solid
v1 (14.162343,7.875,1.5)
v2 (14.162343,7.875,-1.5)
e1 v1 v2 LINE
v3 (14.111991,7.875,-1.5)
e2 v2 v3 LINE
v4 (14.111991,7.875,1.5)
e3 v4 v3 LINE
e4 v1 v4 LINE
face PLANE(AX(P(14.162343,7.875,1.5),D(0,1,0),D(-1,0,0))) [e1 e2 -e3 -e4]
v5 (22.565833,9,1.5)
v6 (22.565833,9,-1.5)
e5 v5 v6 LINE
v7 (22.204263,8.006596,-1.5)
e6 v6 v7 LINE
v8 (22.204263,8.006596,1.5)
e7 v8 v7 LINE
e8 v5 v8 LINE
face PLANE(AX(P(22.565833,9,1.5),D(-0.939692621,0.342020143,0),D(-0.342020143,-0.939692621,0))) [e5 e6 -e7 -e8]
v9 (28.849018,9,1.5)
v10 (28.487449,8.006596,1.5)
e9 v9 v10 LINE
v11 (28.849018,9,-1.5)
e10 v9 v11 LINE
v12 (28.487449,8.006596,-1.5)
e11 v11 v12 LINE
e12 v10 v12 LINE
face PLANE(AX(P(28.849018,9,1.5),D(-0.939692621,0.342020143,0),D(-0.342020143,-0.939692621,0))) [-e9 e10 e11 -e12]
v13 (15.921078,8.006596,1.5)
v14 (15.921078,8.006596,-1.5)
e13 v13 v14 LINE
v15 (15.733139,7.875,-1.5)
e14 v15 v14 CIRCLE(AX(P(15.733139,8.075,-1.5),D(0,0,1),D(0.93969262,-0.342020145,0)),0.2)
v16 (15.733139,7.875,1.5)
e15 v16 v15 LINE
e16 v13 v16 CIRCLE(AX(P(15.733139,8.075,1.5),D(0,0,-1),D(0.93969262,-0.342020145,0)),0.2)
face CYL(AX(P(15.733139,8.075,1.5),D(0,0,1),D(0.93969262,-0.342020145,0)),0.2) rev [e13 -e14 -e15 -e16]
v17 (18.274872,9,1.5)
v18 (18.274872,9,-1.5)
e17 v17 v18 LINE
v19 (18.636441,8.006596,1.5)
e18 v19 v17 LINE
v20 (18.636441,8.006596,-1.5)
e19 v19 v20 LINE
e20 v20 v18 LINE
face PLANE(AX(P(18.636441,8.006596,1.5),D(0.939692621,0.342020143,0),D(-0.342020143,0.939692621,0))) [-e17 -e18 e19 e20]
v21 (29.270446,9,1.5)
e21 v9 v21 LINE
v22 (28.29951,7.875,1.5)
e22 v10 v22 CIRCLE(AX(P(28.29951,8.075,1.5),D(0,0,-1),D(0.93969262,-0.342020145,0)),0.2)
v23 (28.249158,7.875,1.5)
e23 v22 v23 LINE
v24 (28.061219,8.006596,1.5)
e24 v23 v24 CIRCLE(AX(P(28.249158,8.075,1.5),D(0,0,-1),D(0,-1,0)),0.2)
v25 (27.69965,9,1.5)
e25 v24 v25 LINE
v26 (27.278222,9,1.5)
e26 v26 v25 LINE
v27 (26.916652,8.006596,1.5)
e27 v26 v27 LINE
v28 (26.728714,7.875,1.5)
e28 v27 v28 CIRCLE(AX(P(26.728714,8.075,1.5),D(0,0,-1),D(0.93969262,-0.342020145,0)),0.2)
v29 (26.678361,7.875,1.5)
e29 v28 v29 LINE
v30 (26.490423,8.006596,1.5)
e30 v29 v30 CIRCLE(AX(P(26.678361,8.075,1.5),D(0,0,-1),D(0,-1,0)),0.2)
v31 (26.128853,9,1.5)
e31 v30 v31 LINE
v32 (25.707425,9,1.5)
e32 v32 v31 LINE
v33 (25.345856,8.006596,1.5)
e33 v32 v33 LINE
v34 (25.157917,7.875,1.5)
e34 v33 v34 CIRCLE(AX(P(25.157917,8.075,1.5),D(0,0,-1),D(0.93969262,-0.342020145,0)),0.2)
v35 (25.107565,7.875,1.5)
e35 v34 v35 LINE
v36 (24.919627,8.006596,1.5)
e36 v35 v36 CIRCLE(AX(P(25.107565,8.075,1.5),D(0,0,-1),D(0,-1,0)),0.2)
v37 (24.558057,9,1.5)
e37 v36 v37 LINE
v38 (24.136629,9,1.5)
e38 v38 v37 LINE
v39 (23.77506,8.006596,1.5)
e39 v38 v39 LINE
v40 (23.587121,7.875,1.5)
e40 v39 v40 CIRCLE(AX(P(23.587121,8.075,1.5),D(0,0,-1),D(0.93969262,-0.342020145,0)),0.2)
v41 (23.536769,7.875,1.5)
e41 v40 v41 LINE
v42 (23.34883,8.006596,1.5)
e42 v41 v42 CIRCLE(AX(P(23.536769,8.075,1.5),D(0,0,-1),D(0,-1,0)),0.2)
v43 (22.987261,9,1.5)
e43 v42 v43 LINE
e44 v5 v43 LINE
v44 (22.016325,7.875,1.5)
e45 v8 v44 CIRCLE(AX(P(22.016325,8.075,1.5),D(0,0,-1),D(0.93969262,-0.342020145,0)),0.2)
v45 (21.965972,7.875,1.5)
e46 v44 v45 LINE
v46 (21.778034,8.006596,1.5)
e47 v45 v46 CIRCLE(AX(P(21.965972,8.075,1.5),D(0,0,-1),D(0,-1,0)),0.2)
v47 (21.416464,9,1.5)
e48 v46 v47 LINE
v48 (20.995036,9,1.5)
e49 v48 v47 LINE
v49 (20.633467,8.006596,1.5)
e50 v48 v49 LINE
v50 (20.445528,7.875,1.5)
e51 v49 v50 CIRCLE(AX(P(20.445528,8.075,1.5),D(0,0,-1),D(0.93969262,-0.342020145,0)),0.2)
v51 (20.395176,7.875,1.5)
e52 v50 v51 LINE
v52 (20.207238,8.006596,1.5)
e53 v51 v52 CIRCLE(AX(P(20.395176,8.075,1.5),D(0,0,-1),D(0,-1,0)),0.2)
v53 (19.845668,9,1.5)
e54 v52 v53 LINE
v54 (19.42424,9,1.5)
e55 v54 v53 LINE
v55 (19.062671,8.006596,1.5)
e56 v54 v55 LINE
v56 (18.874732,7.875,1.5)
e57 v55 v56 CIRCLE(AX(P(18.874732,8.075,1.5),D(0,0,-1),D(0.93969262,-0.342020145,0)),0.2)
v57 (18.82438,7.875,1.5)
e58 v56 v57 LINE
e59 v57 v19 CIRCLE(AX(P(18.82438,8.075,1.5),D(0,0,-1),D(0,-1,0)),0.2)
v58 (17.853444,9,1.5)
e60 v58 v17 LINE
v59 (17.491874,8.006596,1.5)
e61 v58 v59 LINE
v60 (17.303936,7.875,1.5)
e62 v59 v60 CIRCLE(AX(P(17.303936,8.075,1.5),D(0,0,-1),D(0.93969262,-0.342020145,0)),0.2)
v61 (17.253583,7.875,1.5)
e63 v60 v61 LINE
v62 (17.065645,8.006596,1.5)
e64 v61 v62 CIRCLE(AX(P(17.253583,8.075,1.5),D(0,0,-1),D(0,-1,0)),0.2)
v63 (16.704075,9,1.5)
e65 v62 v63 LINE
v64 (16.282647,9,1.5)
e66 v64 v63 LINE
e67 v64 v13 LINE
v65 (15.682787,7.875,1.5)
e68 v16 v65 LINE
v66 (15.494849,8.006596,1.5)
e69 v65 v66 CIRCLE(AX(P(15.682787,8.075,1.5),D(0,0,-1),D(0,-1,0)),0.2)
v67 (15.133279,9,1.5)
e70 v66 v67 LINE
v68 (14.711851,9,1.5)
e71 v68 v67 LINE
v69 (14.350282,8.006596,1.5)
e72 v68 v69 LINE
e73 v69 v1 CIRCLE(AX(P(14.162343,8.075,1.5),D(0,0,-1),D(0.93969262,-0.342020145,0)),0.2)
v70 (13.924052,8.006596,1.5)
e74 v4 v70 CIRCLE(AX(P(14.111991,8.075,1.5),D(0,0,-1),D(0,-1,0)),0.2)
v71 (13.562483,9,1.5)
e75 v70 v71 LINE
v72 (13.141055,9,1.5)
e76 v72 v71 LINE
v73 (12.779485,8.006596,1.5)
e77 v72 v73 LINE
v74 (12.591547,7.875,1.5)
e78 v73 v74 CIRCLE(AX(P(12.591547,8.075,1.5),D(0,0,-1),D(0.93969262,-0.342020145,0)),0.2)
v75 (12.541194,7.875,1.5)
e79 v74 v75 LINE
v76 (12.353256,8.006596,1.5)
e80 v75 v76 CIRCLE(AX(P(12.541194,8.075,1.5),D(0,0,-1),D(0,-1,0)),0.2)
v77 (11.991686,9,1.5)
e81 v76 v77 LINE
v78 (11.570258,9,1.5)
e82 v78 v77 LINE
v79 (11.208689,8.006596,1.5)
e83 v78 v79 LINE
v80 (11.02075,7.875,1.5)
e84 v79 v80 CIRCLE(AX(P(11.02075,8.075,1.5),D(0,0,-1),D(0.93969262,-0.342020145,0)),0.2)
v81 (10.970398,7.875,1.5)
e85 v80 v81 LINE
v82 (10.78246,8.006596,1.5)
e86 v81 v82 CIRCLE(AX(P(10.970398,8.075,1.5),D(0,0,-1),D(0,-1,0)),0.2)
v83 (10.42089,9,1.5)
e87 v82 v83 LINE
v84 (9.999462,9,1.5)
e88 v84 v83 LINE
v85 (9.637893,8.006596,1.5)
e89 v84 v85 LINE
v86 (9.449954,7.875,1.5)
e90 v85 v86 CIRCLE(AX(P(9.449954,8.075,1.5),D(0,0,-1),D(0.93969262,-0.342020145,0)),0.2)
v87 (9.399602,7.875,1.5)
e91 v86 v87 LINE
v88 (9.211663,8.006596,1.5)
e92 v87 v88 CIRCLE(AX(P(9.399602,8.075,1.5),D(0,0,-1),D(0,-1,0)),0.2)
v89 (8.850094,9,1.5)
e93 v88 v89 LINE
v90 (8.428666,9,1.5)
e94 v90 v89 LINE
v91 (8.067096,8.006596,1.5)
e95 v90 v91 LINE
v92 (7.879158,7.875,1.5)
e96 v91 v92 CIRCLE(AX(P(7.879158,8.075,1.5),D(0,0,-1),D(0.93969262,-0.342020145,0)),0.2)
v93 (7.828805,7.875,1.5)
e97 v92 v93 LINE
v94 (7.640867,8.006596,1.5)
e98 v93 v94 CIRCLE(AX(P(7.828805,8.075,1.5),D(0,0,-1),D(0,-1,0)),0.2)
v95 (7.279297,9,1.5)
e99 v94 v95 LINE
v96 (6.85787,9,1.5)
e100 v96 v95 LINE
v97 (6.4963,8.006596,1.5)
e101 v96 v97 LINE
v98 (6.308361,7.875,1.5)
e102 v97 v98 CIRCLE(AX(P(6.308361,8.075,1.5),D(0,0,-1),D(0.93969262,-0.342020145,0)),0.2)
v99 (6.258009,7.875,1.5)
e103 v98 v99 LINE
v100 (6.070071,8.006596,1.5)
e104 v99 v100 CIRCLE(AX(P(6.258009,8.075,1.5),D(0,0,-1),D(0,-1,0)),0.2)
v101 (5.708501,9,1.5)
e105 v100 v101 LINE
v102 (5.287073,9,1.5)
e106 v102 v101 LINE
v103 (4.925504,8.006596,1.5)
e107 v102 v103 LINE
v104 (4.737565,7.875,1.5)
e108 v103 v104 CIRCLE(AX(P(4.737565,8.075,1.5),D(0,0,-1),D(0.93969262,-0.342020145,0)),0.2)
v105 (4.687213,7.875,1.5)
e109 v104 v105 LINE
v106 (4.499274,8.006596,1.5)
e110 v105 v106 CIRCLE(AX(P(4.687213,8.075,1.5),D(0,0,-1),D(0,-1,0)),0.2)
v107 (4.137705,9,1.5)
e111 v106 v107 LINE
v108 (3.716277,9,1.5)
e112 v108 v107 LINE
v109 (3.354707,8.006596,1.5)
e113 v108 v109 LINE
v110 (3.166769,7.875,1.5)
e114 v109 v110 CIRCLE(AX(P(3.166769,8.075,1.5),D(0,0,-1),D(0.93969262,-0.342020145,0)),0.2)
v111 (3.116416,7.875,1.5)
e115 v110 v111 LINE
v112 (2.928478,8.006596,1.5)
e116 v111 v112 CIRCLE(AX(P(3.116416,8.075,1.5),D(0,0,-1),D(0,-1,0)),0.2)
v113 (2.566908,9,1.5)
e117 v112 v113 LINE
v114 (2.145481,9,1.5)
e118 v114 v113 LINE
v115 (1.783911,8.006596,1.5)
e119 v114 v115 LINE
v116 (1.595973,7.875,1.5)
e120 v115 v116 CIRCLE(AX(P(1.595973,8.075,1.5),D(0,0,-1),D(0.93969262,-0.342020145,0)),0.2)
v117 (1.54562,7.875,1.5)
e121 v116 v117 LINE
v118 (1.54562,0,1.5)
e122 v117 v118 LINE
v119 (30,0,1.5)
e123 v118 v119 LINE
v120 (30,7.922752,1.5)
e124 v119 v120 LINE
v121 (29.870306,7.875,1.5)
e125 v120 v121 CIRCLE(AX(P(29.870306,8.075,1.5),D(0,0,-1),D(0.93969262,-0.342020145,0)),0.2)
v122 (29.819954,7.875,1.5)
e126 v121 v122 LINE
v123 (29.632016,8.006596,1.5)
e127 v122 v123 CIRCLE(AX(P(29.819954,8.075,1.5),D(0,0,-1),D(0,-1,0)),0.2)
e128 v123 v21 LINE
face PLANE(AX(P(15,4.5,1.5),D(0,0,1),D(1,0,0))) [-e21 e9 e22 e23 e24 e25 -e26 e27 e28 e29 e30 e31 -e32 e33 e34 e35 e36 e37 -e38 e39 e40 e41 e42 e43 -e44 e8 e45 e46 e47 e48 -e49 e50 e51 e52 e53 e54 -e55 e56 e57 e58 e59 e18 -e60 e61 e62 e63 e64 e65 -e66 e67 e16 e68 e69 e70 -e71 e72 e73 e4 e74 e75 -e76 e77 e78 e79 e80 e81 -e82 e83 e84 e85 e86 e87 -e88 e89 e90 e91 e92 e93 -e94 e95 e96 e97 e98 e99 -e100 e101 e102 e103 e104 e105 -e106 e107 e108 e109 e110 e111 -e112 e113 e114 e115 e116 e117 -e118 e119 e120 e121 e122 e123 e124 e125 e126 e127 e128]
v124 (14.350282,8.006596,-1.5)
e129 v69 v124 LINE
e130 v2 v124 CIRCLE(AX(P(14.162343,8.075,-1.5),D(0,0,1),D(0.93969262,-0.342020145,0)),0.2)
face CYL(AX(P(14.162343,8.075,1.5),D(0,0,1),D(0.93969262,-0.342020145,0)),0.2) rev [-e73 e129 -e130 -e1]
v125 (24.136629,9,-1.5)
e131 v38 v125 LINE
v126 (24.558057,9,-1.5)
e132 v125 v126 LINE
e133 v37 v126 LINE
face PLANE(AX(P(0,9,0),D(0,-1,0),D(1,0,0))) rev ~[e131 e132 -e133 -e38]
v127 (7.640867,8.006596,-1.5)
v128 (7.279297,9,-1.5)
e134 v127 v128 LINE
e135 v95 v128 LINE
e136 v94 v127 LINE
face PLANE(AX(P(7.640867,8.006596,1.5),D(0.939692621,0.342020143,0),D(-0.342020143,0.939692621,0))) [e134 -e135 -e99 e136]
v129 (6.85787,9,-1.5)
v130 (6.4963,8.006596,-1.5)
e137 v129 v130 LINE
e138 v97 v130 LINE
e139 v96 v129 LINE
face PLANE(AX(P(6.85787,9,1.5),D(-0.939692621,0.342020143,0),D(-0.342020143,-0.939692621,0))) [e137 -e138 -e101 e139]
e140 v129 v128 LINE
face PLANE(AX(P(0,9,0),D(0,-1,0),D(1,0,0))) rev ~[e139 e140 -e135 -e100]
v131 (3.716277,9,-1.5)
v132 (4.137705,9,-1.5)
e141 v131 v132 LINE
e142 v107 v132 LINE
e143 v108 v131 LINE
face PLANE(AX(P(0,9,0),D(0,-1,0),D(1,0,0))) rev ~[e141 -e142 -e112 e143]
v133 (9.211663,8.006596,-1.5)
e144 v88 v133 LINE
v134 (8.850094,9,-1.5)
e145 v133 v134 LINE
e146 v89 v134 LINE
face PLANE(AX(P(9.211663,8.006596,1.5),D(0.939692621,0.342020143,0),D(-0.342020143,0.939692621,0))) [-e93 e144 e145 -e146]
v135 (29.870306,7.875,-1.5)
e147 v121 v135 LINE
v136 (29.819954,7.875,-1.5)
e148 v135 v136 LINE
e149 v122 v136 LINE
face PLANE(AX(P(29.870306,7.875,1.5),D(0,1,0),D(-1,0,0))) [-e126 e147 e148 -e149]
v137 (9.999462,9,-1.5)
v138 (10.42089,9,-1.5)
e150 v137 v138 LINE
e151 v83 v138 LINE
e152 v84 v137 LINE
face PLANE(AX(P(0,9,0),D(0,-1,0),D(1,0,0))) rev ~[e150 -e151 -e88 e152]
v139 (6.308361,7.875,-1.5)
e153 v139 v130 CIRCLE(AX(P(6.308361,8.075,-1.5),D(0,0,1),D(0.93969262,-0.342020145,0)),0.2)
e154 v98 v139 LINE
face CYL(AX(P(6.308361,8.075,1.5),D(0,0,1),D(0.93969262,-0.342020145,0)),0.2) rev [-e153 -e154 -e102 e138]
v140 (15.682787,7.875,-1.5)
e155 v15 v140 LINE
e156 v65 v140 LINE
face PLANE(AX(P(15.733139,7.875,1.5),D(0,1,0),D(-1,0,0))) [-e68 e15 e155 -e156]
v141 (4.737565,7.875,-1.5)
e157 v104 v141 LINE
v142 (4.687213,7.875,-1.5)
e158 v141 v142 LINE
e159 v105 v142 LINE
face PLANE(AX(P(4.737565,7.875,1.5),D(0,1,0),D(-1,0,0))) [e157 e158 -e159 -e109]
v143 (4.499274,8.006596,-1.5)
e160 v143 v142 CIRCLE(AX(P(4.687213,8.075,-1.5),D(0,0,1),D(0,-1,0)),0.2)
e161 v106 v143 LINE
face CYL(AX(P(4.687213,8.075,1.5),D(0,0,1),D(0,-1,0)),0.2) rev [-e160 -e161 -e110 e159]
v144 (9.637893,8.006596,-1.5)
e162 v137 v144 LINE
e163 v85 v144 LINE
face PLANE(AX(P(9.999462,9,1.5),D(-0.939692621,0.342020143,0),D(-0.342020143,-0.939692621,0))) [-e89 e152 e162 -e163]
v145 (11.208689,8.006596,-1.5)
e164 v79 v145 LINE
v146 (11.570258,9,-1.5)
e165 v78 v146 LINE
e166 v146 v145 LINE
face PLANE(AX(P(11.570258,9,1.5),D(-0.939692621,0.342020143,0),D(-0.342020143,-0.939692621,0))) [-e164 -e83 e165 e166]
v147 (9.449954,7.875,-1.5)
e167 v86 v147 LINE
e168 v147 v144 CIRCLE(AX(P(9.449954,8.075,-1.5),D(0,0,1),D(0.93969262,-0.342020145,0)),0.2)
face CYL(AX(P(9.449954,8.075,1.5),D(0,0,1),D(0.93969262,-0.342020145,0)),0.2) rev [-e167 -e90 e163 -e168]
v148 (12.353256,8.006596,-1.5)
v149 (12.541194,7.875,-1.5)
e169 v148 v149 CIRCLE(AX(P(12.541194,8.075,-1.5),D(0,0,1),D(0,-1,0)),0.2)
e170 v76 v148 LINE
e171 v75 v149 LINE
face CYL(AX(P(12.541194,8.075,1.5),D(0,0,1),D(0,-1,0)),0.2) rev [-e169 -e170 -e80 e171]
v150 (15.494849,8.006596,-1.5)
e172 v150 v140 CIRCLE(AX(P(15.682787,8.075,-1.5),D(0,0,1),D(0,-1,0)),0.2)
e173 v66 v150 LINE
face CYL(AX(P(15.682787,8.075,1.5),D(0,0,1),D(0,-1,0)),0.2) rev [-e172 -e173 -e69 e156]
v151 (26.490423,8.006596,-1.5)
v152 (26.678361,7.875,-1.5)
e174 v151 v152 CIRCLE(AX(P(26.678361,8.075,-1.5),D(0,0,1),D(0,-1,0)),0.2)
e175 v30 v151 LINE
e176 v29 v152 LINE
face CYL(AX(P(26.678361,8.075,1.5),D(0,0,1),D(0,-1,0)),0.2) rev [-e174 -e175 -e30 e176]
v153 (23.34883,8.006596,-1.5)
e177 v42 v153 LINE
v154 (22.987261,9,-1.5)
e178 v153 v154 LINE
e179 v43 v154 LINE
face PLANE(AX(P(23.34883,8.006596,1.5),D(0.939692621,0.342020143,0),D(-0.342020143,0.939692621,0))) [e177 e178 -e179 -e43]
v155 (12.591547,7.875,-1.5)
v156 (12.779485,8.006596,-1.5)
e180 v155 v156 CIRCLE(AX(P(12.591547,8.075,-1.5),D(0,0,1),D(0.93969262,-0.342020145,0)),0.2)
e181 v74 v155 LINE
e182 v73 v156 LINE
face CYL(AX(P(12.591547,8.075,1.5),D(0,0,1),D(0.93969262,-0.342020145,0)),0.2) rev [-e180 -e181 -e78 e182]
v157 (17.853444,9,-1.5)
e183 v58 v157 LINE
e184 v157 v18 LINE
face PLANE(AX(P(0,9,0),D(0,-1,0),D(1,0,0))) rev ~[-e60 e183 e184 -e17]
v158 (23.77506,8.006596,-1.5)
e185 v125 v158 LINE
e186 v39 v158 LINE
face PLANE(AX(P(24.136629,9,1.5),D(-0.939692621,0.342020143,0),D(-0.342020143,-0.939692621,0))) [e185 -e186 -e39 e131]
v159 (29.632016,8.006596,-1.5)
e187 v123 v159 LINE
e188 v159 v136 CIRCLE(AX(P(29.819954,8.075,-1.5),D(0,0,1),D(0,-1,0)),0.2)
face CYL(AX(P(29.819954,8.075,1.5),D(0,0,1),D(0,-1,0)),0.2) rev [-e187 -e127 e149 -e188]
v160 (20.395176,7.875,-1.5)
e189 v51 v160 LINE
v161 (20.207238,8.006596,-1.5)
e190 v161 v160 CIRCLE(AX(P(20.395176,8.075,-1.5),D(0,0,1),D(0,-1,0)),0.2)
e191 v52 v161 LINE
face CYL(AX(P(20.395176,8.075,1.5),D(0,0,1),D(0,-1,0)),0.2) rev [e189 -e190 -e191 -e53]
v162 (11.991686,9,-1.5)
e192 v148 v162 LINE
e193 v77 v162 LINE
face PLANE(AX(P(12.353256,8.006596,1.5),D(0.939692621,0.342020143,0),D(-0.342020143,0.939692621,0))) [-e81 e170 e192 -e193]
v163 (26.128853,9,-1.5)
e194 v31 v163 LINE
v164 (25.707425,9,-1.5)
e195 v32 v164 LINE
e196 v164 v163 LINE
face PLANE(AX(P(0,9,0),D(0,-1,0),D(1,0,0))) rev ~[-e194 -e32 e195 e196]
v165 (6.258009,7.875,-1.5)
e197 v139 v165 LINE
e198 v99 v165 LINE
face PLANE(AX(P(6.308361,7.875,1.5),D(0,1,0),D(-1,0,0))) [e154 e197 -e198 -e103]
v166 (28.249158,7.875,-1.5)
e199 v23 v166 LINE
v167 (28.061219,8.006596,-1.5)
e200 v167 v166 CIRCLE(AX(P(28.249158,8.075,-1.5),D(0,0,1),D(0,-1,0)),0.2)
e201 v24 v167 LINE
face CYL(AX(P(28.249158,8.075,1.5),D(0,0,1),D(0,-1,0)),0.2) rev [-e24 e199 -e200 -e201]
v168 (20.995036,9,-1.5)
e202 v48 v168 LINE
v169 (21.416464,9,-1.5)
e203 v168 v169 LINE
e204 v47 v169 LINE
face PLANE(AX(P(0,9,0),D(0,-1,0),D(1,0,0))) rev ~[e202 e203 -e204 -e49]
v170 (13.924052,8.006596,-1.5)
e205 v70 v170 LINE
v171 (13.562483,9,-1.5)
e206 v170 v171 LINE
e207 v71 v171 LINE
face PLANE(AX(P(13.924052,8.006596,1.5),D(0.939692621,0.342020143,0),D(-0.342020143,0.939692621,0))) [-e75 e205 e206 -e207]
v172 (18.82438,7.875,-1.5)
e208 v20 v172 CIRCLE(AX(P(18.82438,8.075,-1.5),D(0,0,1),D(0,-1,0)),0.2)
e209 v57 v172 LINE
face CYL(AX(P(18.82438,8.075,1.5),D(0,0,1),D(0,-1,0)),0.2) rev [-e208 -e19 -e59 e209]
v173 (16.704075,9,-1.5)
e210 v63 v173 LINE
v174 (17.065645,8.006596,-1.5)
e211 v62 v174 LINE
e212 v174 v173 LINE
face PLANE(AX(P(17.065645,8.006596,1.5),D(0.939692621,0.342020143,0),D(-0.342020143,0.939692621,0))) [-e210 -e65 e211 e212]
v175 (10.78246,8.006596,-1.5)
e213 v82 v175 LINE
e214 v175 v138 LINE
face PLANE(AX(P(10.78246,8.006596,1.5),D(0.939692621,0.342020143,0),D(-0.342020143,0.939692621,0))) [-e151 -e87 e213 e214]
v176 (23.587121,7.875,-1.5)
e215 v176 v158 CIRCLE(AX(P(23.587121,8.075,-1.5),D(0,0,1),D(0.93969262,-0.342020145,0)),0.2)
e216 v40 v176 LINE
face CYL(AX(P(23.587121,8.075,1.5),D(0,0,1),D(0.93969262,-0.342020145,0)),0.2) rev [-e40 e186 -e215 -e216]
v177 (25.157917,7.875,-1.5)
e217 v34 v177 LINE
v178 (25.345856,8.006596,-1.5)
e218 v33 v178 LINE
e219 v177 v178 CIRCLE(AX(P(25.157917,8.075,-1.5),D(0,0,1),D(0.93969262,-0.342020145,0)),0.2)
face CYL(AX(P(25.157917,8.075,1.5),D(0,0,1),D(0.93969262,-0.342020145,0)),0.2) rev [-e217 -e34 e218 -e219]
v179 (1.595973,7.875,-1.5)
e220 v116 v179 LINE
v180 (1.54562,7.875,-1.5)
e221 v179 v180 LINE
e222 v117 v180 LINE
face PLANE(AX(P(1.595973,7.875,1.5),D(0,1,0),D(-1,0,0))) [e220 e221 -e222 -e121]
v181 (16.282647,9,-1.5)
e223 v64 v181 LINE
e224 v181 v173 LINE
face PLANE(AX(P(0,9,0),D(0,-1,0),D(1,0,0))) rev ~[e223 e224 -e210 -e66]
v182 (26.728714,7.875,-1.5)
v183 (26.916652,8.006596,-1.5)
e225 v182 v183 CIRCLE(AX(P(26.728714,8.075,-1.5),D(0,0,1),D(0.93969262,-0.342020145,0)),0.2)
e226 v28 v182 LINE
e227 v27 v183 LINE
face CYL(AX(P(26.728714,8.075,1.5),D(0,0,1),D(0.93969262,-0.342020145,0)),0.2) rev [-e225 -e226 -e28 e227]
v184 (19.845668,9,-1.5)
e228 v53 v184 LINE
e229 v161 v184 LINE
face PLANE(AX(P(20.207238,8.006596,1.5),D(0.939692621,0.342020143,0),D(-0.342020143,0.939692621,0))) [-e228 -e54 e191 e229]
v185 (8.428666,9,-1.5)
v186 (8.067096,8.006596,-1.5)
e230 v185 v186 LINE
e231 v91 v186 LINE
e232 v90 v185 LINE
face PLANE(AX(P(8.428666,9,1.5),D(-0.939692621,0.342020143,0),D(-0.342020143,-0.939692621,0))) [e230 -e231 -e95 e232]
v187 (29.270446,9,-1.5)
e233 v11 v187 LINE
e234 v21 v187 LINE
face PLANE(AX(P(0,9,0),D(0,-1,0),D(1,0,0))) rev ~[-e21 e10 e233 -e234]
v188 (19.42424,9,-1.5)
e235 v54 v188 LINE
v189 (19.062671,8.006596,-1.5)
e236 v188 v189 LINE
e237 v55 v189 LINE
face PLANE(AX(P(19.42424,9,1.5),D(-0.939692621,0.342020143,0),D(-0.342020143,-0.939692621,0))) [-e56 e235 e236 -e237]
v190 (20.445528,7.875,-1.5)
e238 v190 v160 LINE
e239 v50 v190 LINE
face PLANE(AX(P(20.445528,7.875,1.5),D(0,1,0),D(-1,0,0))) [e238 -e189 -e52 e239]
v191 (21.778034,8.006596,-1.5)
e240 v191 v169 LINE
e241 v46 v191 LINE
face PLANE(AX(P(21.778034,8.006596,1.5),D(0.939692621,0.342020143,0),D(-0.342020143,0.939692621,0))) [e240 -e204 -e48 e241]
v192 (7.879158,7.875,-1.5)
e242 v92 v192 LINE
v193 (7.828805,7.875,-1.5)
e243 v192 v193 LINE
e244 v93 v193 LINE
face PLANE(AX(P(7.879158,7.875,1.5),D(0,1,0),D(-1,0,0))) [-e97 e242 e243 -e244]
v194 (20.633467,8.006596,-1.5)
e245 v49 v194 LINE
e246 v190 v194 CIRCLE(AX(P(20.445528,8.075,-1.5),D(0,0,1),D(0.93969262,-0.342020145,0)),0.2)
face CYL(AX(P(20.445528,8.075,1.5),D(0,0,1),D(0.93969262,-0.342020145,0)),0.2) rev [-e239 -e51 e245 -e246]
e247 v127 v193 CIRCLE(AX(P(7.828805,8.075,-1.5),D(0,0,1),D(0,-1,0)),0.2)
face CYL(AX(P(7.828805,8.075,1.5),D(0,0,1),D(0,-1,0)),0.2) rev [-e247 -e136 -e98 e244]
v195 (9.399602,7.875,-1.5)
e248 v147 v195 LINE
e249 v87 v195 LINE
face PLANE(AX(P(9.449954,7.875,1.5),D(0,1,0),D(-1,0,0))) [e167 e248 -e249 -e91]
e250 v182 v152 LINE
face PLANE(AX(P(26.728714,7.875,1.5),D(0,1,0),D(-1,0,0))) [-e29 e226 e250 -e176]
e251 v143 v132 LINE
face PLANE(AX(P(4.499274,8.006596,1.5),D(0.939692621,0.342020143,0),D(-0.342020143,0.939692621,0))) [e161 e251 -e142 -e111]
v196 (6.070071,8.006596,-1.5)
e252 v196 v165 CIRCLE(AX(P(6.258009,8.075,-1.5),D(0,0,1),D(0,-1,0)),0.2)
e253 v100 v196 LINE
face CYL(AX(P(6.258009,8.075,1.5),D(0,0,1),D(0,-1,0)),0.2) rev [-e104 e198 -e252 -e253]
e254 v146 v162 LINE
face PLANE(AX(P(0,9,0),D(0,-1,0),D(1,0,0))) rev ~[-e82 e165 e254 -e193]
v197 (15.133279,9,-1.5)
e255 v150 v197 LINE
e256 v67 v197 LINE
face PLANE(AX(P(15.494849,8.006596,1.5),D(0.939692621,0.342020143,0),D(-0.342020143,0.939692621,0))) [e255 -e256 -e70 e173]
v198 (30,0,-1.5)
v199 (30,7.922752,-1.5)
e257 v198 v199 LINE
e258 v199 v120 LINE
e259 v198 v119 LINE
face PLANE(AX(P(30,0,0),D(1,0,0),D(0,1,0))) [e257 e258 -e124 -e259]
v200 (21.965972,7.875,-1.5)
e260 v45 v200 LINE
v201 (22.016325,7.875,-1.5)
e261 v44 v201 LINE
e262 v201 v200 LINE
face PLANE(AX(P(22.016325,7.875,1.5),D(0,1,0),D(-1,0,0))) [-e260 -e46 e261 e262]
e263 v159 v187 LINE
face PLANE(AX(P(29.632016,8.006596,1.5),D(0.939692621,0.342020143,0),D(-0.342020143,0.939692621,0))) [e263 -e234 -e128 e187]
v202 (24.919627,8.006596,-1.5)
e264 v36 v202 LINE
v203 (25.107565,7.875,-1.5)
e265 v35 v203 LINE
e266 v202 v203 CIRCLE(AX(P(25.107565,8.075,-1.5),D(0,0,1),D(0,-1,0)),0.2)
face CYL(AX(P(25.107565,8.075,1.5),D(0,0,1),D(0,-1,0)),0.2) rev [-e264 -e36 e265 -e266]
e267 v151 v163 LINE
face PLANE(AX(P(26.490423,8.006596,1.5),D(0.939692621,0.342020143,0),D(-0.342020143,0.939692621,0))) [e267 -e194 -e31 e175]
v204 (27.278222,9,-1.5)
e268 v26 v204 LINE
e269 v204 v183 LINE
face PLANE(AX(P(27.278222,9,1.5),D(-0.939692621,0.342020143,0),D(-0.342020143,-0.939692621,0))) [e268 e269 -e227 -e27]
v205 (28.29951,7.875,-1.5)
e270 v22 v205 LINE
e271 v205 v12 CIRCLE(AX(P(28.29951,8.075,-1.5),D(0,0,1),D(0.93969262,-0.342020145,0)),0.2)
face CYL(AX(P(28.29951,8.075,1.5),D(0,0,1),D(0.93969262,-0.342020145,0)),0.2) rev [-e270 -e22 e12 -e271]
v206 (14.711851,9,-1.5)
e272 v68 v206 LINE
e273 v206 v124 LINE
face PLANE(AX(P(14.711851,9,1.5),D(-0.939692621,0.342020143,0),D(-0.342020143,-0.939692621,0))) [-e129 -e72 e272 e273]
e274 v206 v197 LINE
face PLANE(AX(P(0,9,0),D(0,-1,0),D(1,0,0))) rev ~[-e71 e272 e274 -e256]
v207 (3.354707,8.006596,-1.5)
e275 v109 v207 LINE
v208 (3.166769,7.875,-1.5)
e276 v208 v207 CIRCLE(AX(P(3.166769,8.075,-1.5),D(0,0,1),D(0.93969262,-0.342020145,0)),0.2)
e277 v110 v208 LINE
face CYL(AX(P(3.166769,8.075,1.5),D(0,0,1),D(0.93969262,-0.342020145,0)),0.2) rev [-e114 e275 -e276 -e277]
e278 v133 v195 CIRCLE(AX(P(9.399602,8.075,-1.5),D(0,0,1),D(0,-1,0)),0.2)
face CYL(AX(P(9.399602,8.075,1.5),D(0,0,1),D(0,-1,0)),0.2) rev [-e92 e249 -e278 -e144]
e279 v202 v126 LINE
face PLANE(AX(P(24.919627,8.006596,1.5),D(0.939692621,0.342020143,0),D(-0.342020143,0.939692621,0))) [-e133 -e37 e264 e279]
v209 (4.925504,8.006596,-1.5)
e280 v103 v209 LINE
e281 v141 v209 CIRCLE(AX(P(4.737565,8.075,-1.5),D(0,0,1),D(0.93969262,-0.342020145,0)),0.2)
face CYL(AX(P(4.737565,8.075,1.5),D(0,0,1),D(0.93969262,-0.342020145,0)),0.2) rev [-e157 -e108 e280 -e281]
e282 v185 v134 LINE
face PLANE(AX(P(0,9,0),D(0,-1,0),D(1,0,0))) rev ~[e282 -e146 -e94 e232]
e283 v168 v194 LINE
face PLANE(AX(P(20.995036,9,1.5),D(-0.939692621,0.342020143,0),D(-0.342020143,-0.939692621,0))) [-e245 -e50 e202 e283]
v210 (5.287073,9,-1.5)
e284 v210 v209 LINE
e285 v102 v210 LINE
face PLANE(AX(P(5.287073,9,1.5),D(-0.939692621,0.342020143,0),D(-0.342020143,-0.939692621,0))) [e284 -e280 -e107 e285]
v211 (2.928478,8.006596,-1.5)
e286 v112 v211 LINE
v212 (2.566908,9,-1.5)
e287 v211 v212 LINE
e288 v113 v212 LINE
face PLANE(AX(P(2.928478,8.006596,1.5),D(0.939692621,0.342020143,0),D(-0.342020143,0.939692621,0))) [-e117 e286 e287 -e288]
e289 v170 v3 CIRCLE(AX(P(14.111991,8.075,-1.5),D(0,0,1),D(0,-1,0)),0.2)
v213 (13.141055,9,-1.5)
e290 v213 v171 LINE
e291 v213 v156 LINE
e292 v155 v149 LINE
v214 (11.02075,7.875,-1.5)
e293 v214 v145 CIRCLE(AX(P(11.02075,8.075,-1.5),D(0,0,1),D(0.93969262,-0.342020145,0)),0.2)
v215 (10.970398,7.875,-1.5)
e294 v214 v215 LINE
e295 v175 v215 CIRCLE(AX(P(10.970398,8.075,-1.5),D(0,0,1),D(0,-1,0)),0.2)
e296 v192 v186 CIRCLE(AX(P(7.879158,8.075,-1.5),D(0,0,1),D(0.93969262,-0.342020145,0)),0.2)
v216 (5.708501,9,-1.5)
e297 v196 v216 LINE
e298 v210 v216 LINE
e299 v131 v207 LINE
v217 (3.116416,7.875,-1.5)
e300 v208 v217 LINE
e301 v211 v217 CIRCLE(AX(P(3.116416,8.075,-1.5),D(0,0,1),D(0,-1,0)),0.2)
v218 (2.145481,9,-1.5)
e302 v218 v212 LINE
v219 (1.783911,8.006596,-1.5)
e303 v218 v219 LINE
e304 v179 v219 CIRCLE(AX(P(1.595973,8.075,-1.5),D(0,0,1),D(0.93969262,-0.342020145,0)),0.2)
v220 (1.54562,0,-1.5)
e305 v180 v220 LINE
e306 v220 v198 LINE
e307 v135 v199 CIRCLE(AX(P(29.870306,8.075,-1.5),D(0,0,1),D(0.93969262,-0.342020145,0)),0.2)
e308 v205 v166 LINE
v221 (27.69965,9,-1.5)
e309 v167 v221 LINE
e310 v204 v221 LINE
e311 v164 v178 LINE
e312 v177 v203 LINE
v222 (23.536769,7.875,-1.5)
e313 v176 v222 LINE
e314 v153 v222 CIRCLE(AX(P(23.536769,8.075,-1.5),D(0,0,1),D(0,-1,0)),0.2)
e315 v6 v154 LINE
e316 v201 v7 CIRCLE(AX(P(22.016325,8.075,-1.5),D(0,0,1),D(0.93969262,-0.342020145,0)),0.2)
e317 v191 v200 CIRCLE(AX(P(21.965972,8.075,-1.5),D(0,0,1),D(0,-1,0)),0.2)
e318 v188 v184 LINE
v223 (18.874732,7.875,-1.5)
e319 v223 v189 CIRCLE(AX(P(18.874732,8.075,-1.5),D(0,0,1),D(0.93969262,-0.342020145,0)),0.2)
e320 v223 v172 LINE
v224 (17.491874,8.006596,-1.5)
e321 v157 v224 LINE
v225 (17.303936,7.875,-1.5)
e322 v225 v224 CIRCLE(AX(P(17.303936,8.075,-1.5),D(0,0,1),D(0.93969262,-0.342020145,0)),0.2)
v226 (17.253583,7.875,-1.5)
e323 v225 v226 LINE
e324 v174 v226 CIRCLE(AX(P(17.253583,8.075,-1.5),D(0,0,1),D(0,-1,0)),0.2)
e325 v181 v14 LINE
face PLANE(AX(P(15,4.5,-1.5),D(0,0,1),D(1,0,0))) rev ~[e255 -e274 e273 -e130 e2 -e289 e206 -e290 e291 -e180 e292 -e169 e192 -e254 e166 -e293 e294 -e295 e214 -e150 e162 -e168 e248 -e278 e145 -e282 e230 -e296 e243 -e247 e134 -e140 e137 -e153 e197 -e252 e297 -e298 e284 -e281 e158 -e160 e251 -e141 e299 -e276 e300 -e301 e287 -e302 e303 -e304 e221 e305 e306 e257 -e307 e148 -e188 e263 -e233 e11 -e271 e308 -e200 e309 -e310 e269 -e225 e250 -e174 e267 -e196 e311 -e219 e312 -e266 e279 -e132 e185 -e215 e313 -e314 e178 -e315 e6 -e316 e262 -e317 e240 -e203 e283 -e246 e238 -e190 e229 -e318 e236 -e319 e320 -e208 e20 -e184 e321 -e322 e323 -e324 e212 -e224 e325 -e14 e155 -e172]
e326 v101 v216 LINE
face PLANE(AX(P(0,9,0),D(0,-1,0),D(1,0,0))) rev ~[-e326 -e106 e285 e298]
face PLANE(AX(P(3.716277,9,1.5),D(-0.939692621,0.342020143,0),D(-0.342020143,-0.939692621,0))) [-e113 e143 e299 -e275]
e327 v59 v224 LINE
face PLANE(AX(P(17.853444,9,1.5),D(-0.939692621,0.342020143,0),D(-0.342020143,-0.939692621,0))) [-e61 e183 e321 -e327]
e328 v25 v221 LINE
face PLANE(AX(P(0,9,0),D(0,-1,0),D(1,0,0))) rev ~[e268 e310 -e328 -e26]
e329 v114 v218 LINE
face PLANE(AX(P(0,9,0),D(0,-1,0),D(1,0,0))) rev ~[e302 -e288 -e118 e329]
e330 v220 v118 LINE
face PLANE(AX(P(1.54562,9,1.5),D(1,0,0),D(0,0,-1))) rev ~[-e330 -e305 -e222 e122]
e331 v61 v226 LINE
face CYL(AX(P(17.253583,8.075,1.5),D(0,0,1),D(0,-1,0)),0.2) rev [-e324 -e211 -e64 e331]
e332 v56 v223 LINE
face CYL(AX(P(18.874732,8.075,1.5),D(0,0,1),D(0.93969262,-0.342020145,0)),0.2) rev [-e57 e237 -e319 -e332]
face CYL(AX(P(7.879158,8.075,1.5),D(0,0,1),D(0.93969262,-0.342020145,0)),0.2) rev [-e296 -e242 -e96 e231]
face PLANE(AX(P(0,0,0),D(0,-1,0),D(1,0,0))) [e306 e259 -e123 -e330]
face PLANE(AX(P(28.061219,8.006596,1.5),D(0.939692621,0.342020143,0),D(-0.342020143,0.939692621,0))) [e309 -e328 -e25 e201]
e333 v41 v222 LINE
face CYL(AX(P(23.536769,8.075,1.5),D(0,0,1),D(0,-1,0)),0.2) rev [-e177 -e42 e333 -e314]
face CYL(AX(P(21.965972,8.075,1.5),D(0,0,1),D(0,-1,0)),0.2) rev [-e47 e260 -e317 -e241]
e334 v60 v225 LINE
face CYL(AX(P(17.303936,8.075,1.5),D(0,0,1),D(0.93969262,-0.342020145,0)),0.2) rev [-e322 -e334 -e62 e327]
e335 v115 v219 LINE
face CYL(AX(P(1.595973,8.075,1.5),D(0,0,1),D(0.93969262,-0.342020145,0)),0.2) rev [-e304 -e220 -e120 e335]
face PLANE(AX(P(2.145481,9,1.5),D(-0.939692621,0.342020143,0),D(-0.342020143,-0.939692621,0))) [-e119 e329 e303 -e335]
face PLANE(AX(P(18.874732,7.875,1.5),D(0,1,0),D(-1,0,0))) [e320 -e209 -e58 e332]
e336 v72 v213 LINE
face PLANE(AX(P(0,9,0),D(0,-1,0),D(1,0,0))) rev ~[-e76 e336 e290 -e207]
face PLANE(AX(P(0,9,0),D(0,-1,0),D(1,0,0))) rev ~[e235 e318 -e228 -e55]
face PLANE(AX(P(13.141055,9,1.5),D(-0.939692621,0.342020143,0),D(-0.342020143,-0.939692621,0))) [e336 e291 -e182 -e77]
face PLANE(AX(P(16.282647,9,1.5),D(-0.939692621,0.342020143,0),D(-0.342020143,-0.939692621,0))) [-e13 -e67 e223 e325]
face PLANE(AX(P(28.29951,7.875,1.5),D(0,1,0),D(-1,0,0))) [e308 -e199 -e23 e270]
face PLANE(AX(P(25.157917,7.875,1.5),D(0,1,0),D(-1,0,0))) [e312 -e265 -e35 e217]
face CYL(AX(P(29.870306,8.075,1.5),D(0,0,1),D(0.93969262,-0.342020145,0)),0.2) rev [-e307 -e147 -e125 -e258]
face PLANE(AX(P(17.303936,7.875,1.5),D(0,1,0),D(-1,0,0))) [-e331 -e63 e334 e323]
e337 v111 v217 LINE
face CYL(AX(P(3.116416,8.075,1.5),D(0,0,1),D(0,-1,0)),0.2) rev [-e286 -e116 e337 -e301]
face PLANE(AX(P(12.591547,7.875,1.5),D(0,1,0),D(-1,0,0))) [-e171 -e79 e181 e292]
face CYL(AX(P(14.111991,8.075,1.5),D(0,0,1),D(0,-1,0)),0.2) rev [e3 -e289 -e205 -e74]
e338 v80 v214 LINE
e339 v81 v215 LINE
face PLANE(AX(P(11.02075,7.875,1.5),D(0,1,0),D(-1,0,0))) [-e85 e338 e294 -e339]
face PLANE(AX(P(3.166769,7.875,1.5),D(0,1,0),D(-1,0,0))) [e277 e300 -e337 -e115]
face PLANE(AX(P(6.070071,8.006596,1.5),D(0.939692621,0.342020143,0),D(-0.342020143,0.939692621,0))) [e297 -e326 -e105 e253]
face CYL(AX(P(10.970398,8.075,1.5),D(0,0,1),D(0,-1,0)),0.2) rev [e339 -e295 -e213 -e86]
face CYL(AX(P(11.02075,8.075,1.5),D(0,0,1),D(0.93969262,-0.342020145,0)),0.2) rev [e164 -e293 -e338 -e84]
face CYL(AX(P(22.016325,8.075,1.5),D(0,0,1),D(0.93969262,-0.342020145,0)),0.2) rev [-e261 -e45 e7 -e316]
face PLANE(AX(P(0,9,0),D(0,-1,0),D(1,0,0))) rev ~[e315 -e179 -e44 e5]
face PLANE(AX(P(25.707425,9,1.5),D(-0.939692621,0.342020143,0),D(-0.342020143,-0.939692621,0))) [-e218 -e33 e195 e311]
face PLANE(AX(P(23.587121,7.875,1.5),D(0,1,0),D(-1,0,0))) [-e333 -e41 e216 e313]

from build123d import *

# Parameters (mm, degrees)
SKETCH1_W           = 30
SKETCH1_H           = 9
BOSS_EXTRUDE1_DEPTH = 1.5
CUT_EXTRUDE1_DEPTH  = 32.464265445
LPATTERN1_COUNT     = 20
LPATTERN1_PITCH     = 1.570796327
SKETCH9_W           = 1.545620149
SKETCH9_H           = 3
CUT_EXTRUDE2_DEPTH  = 32.356817441


with BuildPart() as part:
    # Sketch1 → Boss-Extrude1 (new, symmetric)
    with BuildSketch(Plane.XY):
        with Locations((15, 4.5)):
            Rectangle(SKETCH1_W, SKETCH1_H)
    extrude(amount=BOSS_EXTRUDE1_DEPTH, both=True)

    # Sketch2 → Cut-Extrude1 (cut, through all)
    with BuildSketch(Plane.XY.offset(1.5)):
        with BuildLine():
            Line((-0.574684199, 9), (0.574684199, 9))
            Line((0.574684199, 9), (0.213114702, 8.006595971))
            ThreePointArc((0.213114702, 8.006595971), (0.139891465, 7.911169591), (0.025176178, 7.875))
            Line((0.025176178, 7.875), (-0.025176178, 7.875))
            ThreePointArc((-0.025176178, 7.875), (-0.139891465, 7.911169591), (-0.213114702, 8.006595971))
            Line((-0.213114702, 8.006595971), (-0.574684199, 9))
        make_face()
    cut_extrude1 = extrude(amount=-CUT_EXTRUDE1_DEPTH, mode=Mode.SUBTRACT)

    # LPattern1: Cut-Extrude1 ×20
    with Locations(*[(i * LPATTERN1_PITCH, 0, 0) for i in range(1, LPATTERN1_COUNT)]):
        add(cut_extrude1, mode=Mode.SUBTRACT)

    # Sketch9 → Cut-Extrude2 (cut, through all)
    with BuildSketch(Plane(origin=(0, 9, 0), x_dir=(1, 0, 0), z_dir=(0, 1, 0))):
        with Locations((0.772810075, 0)):
            Rectangle(SKETCH9_W, SKETCH9_H)
    extrude(amount=-CUT_EXTRUDE2_DEPTH, mode=Mode.SUBTRACT)


solid = part.part
